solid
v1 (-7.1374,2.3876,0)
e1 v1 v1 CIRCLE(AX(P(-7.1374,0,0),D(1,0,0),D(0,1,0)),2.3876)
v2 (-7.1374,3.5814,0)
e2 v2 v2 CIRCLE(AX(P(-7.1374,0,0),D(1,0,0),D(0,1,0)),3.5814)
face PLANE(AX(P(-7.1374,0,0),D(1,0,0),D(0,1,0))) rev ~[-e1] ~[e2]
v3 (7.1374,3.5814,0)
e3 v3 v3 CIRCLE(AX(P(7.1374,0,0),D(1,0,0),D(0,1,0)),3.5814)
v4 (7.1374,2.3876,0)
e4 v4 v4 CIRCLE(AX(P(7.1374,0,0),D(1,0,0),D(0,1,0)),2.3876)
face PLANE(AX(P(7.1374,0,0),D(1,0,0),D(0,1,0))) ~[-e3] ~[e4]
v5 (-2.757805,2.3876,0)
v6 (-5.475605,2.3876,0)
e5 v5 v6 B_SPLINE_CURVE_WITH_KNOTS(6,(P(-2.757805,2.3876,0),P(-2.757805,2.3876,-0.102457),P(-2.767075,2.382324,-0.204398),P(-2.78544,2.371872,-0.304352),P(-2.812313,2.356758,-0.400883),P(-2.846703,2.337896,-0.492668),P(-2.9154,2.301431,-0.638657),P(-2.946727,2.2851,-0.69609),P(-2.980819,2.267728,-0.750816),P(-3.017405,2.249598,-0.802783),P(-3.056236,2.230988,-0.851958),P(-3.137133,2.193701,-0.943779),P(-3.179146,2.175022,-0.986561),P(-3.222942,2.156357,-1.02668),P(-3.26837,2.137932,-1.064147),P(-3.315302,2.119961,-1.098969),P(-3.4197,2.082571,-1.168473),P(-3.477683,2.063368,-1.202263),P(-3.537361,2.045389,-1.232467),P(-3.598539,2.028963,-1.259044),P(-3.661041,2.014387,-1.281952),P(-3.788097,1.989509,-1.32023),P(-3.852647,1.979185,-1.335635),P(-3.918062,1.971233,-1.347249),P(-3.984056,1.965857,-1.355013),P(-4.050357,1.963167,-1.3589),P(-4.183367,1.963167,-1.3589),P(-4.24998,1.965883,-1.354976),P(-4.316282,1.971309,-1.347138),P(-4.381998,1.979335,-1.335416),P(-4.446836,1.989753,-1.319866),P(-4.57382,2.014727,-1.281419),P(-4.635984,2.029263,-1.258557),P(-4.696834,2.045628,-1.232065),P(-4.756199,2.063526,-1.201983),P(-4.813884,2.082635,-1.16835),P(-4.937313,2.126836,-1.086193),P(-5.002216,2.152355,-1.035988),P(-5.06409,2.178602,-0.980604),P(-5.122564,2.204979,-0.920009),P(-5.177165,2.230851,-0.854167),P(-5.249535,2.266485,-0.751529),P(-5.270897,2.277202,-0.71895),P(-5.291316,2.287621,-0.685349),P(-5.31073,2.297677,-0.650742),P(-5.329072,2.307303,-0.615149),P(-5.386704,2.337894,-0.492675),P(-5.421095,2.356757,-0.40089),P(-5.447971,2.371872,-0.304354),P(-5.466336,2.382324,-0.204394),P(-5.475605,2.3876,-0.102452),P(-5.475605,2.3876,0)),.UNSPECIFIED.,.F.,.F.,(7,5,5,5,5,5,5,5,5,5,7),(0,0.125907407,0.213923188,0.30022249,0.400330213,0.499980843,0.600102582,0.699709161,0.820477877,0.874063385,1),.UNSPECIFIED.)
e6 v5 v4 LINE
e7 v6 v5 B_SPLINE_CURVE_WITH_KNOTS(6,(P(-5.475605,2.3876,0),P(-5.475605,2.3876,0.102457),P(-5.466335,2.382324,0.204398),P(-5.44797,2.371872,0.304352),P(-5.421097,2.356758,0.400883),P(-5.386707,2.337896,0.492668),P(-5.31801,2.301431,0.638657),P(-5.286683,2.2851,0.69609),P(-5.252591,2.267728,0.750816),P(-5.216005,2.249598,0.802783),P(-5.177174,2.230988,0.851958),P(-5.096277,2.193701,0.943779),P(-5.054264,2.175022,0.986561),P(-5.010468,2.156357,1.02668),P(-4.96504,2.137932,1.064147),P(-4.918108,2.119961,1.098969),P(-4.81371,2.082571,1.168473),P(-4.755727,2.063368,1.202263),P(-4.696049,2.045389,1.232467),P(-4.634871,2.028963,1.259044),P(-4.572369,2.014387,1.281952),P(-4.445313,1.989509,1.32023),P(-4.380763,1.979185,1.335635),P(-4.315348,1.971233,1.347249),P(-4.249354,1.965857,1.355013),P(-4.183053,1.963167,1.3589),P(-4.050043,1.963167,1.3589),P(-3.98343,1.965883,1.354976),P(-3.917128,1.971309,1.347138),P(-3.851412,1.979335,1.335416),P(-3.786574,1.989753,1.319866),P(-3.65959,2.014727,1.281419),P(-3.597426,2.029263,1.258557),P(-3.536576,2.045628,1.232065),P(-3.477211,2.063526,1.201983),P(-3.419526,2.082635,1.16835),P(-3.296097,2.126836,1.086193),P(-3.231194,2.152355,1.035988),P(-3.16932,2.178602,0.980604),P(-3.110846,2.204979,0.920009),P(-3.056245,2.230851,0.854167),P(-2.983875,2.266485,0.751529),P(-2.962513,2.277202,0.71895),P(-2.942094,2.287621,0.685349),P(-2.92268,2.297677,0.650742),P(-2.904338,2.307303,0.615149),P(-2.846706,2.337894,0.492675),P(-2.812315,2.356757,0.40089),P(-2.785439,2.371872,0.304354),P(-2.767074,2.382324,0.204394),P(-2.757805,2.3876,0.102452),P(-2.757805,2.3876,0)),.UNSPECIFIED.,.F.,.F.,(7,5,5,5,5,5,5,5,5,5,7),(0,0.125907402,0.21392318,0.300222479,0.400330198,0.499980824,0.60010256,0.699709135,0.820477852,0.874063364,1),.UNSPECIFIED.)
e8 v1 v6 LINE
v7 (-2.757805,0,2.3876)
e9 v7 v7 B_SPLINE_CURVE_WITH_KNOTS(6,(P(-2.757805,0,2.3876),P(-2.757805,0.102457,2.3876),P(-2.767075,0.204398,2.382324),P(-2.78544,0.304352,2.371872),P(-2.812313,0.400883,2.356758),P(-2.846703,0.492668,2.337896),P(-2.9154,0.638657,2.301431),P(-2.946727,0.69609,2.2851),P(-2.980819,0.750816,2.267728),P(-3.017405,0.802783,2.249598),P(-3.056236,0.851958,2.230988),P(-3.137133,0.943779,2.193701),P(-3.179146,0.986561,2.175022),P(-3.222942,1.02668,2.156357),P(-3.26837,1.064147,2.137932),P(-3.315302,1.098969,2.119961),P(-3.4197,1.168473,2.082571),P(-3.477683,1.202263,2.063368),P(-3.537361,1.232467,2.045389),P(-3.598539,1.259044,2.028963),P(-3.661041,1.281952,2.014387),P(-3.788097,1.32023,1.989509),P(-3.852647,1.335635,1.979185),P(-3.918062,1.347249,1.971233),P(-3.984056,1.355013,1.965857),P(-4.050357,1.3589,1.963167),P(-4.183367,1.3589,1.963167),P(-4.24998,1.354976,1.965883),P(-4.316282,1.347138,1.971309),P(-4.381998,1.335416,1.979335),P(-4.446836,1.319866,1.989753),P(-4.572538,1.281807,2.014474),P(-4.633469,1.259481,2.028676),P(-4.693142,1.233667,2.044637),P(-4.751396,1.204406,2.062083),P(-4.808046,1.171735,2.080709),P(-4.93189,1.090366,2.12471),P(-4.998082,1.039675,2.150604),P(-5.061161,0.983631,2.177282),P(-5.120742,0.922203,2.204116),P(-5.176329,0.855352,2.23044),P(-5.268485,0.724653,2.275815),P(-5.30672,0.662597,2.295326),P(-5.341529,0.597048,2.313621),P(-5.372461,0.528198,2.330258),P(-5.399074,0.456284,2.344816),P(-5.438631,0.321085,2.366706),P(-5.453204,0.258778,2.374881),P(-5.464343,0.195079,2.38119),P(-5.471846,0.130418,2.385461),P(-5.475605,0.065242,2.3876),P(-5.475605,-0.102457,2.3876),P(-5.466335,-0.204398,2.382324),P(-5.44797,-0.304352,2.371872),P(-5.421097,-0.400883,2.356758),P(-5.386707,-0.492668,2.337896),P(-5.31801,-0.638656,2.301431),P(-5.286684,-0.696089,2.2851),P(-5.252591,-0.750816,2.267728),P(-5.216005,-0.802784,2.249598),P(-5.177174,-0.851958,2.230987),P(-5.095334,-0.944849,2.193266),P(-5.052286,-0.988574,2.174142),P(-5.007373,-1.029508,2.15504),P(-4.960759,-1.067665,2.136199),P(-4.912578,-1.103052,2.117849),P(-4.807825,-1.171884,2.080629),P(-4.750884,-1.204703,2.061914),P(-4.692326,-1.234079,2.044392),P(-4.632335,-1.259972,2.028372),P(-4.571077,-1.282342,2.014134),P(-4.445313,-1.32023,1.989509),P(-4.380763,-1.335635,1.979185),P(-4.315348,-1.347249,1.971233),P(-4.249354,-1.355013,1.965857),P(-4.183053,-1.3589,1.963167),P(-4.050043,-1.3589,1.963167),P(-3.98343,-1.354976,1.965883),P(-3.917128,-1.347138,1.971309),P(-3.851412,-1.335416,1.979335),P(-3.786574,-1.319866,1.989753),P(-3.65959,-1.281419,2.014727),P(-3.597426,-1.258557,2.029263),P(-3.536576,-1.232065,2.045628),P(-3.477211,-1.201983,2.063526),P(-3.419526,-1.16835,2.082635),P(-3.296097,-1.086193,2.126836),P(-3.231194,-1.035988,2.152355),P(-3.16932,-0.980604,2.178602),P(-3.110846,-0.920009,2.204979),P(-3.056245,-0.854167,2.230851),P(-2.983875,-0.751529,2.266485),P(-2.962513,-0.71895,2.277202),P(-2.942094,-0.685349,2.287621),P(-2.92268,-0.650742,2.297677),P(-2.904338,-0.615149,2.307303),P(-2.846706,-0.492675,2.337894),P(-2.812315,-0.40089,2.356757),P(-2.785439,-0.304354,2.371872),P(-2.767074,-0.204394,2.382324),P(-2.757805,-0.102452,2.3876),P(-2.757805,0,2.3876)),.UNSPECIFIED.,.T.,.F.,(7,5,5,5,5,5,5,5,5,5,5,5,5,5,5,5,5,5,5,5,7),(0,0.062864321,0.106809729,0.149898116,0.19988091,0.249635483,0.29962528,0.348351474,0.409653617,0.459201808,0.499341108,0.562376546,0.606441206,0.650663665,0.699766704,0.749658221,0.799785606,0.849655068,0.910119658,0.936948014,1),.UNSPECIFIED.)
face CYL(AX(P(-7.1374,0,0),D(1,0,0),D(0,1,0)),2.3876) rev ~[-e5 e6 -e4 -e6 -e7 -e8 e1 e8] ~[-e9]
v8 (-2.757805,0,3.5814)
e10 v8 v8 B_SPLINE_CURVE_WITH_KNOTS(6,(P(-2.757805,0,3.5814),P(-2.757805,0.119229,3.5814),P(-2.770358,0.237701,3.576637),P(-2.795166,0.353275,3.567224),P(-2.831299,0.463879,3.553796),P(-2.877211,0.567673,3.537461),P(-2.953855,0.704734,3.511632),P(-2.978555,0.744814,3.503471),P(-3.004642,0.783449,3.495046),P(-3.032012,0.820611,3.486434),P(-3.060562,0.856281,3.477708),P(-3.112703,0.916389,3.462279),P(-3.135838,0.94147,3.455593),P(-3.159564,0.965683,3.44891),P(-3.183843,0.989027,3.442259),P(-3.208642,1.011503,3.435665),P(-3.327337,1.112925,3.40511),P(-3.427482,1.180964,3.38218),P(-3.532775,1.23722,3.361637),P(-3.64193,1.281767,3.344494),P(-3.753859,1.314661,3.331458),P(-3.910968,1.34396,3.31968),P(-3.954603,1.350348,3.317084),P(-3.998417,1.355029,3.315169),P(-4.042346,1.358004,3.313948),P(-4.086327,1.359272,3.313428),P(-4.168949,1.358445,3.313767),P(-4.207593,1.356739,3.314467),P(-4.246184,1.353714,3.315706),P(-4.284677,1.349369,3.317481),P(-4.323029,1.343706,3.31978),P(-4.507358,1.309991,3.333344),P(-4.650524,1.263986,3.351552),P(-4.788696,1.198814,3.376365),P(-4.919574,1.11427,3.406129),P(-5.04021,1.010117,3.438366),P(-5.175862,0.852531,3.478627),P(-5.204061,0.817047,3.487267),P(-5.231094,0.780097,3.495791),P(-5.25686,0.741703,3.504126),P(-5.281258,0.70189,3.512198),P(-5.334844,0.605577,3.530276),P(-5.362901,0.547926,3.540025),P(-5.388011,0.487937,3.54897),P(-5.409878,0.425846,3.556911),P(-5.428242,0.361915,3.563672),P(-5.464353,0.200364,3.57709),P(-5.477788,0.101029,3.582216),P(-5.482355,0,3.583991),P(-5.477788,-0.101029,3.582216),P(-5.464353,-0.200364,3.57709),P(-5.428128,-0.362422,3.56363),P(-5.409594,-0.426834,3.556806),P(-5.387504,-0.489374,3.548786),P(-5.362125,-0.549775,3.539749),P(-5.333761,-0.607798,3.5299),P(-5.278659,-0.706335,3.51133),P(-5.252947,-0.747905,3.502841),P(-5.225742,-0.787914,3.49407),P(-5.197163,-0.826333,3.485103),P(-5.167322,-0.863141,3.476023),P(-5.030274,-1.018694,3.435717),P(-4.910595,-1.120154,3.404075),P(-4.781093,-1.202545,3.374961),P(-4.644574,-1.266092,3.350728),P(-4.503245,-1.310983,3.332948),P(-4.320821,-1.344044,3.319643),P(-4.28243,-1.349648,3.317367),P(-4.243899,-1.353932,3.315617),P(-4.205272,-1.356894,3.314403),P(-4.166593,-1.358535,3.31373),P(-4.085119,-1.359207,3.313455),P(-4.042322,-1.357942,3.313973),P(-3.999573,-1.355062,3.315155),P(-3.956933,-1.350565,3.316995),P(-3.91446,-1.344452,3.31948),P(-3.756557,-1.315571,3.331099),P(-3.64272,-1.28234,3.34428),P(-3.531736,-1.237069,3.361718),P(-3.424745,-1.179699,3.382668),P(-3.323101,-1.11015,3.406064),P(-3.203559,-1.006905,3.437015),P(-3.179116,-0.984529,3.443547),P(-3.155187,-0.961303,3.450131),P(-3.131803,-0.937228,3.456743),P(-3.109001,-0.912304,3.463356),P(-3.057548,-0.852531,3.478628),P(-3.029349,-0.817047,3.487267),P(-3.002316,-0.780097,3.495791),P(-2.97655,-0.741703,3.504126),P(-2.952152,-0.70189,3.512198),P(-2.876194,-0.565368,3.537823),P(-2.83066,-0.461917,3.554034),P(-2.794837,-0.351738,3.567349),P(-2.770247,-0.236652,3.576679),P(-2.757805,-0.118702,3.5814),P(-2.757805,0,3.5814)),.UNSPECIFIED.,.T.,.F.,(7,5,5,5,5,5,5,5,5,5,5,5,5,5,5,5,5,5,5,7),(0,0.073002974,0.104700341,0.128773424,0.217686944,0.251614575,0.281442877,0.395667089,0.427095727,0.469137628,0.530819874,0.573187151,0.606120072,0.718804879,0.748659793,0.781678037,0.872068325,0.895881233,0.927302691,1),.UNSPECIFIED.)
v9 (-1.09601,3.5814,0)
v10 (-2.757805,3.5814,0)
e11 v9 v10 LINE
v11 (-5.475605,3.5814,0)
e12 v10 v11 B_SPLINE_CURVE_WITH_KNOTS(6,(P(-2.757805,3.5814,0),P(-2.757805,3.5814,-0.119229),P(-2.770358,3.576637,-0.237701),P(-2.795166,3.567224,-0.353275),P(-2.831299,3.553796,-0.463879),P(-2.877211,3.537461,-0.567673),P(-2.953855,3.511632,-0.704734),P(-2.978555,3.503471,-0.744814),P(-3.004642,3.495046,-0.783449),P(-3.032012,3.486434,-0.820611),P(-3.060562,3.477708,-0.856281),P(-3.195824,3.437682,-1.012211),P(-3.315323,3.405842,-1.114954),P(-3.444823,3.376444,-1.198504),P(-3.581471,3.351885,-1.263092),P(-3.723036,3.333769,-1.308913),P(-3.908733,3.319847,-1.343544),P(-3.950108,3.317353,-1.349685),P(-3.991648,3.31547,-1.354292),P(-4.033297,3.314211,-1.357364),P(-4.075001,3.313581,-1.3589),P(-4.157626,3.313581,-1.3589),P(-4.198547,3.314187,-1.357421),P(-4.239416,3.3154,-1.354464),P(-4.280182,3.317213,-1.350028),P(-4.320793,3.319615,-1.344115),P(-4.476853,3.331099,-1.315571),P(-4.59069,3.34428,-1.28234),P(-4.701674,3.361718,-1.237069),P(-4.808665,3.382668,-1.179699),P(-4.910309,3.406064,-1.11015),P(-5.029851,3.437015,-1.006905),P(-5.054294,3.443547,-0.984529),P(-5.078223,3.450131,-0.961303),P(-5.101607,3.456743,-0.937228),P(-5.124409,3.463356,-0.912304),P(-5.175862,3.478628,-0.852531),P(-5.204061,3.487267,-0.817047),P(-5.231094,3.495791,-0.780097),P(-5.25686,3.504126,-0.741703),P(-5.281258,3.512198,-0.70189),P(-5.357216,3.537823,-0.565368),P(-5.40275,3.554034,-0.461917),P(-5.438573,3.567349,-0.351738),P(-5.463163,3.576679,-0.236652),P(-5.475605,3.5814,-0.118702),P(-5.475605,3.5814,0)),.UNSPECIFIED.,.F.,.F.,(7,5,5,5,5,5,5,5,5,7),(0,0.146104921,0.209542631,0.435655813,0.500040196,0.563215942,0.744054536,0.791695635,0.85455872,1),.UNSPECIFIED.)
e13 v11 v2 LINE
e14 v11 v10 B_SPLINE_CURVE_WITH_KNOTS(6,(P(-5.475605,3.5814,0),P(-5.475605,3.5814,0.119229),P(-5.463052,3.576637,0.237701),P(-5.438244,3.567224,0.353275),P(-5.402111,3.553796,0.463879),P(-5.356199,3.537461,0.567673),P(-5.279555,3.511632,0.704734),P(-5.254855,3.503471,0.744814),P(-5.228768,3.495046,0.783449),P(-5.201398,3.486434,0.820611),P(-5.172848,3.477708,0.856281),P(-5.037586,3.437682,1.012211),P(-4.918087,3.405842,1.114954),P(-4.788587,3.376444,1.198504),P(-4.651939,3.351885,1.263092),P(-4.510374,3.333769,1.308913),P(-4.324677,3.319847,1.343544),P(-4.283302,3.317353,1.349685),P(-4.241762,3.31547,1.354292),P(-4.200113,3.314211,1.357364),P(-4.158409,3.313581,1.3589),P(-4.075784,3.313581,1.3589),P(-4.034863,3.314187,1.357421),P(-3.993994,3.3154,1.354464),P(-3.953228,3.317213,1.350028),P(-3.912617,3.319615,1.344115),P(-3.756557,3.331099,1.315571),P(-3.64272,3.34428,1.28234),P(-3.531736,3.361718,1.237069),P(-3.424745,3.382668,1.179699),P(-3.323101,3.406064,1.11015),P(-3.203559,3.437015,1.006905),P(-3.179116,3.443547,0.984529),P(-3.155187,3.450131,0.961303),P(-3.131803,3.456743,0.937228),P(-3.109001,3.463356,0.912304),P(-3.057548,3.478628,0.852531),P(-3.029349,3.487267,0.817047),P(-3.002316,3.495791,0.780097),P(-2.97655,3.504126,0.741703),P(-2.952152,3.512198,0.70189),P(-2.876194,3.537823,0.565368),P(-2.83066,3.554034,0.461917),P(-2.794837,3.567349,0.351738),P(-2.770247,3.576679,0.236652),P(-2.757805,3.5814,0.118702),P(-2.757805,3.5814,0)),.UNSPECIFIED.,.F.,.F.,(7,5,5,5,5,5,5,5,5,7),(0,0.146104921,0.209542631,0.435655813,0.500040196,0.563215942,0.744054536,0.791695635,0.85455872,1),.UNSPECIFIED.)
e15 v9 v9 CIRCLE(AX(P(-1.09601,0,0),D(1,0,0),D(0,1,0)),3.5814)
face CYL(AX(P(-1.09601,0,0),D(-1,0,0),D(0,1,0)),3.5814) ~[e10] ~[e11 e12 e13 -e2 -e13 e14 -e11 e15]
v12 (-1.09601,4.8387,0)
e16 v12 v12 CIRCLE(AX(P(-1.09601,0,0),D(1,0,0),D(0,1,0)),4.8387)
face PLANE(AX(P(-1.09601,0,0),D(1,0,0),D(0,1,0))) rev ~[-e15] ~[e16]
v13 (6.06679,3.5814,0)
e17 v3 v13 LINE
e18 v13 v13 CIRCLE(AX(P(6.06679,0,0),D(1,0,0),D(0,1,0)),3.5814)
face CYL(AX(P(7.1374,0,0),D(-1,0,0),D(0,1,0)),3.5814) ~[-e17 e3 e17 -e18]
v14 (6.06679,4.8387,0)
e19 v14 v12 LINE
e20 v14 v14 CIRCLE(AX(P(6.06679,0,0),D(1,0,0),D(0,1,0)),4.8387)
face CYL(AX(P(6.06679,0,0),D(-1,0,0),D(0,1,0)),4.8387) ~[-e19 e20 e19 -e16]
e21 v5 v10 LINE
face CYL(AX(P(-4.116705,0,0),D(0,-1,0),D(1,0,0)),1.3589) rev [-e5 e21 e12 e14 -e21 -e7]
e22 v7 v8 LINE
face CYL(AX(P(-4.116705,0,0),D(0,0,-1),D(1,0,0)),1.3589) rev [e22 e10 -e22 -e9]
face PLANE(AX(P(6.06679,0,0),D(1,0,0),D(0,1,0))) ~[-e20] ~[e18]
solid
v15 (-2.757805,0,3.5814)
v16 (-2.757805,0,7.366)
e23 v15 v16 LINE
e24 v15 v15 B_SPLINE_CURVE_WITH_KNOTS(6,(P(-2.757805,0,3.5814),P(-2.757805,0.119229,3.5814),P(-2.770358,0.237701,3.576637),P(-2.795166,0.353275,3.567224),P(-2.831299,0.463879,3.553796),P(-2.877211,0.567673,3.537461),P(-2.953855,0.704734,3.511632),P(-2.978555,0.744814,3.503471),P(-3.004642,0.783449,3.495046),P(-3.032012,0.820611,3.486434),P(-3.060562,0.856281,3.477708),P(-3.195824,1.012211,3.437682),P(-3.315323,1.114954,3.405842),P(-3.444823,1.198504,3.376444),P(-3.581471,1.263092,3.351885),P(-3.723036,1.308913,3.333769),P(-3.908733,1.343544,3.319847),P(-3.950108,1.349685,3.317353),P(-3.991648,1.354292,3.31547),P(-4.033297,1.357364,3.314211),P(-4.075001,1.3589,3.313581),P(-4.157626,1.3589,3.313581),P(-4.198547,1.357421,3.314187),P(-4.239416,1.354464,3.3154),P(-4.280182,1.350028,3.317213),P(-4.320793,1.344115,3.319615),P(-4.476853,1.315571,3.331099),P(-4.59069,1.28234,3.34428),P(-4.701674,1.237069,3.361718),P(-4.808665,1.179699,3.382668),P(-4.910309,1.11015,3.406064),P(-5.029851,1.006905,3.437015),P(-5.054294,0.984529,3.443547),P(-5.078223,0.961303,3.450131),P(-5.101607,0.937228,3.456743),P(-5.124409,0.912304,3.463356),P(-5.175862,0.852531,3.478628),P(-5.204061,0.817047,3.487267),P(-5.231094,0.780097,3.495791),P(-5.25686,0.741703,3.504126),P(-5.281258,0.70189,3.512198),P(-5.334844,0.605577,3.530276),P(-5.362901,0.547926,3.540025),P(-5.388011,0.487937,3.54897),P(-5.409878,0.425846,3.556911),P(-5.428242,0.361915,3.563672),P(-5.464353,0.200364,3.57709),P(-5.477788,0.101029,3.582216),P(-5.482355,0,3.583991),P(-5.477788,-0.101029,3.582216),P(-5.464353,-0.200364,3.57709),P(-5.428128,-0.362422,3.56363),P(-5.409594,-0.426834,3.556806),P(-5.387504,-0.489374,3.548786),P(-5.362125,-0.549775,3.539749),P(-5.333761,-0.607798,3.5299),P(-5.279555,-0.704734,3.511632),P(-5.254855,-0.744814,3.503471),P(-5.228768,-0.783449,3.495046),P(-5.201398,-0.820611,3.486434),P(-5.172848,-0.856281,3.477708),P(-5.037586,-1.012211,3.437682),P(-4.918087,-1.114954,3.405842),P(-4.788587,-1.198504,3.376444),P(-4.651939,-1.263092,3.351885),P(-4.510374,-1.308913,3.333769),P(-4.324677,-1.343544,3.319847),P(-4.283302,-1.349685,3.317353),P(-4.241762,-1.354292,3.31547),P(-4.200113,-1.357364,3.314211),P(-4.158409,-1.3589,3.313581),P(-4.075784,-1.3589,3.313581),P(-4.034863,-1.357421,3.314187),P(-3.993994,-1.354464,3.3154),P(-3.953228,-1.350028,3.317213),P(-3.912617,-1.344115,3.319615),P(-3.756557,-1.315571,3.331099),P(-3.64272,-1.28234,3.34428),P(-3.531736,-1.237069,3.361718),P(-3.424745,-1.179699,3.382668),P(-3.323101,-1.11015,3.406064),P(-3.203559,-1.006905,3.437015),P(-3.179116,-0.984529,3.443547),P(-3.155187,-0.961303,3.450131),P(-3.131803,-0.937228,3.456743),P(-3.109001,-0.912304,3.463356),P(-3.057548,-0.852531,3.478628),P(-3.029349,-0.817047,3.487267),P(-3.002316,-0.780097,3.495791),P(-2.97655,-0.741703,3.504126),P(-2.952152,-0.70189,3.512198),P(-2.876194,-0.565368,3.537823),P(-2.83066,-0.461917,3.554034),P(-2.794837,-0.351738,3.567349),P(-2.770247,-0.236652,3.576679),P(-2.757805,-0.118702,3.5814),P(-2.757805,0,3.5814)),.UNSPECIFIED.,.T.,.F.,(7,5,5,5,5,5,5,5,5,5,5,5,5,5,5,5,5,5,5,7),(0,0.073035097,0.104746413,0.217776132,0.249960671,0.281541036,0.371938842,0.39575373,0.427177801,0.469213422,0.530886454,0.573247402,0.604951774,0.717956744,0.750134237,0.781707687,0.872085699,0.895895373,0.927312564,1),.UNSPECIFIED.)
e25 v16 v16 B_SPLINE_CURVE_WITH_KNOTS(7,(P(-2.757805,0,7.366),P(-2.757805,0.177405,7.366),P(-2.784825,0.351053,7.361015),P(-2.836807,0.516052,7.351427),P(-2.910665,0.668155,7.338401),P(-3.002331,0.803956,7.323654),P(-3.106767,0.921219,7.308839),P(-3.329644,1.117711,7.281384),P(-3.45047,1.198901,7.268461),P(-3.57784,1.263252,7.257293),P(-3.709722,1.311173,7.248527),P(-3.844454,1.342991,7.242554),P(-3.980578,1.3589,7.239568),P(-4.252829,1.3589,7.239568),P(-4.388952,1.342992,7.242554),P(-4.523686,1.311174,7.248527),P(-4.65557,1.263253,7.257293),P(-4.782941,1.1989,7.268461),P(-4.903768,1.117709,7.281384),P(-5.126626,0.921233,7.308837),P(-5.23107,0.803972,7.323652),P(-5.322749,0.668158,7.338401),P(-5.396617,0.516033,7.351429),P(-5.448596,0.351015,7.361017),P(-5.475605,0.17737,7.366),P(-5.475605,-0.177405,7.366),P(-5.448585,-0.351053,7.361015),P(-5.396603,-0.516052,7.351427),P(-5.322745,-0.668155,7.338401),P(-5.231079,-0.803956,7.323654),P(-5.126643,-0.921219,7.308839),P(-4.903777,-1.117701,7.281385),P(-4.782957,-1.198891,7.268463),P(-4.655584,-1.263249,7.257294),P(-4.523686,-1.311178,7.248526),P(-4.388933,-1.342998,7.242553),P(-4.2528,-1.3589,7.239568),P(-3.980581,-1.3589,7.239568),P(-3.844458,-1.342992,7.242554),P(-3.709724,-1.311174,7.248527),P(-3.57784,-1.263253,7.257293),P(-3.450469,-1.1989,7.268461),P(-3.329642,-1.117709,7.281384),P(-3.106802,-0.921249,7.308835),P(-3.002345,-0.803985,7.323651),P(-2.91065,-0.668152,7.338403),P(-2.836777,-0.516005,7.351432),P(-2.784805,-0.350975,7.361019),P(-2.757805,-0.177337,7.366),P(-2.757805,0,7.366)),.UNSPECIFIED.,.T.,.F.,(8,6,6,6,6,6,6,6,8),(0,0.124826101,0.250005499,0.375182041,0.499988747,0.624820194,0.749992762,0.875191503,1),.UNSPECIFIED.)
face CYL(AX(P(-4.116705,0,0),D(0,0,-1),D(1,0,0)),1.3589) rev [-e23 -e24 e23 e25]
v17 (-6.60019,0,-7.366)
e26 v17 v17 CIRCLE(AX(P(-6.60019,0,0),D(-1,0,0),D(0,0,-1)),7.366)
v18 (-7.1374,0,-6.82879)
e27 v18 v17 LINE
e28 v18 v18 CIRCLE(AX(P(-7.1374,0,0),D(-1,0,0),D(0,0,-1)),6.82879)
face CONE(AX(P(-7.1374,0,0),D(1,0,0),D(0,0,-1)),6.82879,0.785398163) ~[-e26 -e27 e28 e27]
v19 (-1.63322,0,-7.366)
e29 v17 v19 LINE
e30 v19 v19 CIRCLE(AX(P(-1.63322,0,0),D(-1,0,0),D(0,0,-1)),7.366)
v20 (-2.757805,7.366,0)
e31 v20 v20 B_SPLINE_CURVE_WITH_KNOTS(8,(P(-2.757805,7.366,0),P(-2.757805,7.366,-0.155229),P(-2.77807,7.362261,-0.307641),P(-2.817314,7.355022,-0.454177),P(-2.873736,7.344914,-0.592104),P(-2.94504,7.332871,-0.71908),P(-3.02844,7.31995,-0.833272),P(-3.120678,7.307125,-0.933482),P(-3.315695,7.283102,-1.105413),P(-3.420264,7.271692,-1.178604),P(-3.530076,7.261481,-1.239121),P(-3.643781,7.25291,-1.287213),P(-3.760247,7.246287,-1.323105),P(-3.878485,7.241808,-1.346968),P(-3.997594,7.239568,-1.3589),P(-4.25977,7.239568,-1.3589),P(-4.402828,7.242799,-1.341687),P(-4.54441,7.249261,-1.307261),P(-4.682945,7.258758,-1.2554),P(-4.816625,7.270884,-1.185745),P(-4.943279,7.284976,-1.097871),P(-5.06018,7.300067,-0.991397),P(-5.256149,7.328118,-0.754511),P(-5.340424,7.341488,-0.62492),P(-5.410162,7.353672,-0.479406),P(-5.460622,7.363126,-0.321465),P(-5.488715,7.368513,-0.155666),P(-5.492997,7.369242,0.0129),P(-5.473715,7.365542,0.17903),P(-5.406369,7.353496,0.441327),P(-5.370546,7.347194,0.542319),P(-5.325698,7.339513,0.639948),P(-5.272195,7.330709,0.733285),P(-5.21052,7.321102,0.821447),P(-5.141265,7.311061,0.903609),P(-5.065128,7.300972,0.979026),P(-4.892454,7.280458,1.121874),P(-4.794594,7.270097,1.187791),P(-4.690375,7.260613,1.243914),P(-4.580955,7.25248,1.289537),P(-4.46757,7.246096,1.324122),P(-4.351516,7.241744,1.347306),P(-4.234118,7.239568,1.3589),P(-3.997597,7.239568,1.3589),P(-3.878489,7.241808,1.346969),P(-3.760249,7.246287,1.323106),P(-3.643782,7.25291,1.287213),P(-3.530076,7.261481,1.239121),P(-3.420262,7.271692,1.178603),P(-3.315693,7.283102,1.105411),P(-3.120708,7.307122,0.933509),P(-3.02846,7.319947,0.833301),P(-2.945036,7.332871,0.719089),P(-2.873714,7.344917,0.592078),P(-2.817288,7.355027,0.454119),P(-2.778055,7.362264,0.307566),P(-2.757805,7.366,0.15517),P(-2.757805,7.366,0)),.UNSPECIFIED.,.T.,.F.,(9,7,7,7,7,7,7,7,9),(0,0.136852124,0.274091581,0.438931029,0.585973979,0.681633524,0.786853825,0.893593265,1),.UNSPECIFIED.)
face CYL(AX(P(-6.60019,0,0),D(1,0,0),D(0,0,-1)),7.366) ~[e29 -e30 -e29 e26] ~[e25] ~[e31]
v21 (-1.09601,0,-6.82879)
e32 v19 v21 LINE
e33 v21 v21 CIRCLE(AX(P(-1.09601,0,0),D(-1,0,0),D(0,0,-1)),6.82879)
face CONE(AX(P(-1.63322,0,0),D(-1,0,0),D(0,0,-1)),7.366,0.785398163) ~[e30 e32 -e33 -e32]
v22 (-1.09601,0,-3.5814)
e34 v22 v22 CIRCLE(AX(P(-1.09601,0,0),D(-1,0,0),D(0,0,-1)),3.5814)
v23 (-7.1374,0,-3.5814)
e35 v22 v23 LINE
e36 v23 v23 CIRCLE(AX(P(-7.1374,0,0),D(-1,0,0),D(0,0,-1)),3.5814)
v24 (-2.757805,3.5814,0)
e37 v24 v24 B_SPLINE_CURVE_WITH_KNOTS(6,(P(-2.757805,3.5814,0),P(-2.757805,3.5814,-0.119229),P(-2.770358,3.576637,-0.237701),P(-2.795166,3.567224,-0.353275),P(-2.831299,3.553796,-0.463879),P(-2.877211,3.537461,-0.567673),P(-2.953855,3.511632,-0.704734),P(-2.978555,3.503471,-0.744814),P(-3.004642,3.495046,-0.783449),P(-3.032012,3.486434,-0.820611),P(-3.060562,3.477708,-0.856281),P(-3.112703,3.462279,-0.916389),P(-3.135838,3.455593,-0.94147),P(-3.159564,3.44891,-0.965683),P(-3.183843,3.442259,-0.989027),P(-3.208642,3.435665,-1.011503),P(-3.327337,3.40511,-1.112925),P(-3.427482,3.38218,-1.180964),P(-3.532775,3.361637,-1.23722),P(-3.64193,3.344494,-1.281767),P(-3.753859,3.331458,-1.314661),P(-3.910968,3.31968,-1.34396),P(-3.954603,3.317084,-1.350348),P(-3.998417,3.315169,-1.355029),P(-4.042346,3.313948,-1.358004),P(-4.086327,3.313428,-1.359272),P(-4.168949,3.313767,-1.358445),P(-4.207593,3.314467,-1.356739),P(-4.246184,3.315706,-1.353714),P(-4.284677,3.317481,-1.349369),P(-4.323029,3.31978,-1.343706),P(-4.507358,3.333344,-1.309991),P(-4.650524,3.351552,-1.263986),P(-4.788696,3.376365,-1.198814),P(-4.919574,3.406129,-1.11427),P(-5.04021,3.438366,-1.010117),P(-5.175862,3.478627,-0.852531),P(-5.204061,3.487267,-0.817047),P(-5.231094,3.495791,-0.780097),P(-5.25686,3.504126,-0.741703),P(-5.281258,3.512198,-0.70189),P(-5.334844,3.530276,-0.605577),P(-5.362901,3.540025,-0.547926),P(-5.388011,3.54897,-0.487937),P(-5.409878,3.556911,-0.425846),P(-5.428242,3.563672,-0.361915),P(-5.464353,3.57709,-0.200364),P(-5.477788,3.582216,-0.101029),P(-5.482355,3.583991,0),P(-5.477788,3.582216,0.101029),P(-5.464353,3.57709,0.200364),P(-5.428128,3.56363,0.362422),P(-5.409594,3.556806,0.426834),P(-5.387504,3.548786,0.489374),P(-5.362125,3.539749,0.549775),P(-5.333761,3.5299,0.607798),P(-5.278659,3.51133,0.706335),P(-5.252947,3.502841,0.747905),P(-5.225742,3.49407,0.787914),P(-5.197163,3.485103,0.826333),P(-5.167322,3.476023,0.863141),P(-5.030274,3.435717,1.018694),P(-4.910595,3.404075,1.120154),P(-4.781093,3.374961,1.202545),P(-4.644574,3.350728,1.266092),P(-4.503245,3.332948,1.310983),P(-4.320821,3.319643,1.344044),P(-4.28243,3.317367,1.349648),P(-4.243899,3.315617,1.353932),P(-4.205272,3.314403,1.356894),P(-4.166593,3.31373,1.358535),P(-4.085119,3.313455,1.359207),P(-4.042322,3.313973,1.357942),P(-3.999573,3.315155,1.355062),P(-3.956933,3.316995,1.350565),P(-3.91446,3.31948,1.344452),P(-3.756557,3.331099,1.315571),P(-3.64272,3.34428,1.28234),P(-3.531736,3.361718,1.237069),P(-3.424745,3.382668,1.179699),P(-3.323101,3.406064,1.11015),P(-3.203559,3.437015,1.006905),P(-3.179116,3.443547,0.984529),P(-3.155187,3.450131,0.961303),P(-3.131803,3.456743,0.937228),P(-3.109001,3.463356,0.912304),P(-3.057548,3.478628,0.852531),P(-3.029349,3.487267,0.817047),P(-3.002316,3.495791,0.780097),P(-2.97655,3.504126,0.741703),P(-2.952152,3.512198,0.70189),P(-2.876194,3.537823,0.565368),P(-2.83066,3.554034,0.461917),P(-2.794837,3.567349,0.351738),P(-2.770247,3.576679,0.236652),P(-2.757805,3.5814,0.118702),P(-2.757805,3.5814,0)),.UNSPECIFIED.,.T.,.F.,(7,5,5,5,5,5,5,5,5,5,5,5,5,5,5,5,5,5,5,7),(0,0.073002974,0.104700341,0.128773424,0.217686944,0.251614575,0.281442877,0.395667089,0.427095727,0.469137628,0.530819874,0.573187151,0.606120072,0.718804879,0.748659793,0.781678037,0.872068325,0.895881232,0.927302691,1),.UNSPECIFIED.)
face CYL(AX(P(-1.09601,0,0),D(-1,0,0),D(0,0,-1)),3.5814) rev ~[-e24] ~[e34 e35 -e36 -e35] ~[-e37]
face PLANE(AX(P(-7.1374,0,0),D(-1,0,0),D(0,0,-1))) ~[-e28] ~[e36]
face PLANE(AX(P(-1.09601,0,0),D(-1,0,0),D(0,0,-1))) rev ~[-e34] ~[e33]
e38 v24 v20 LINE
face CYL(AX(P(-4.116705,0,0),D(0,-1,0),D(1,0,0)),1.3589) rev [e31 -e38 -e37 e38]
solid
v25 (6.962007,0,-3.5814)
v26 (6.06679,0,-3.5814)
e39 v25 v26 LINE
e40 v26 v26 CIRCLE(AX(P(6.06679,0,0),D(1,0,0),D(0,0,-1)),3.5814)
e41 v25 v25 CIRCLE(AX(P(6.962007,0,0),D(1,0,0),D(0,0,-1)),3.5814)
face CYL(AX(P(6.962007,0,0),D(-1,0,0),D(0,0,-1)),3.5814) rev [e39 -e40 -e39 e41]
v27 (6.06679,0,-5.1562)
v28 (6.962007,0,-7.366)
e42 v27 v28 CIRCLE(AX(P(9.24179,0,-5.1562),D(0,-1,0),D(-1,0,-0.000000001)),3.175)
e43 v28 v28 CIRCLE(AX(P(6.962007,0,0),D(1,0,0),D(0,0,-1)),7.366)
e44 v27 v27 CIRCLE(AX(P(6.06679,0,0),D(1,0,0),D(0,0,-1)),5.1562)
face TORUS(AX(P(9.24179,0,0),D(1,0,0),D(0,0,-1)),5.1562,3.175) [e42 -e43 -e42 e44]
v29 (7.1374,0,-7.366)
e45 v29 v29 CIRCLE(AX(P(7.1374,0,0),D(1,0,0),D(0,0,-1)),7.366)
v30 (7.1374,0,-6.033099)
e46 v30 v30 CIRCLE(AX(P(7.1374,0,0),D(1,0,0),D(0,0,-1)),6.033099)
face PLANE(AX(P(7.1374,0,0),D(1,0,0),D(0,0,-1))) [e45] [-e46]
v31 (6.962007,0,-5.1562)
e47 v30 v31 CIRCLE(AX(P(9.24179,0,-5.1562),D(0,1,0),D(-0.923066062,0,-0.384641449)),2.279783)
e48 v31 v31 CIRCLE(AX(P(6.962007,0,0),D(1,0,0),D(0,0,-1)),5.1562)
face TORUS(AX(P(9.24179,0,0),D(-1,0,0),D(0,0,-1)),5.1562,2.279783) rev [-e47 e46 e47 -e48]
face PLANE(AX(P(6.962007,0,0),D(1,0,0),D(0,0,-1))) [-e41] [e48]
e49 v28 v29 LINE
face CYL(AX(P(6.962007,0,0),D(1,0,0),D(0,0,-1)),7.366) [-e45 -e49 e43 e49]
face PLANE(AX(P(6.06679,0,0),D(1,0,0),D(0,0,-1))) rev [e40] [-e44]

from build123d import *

# Parameters (mm, degrees)
SKETCH5_R         = 1.3589
SET_SCREWS_DEPTH  = 10
CIRPATTERN1_COUNT = 2
CIRPATTERN1_ANGLE = 90


with BuildPart() as part:
    # Sketch2 → Base Body (revolve)
    with BuildSketch(Plane.XY):
        Polygon((-7.1374, 2.3876), (7.1374, 2.3876), (7.1374, 3.5814), (6.06679, 3.5814), (6.06679, 4.8387), (-1.09601, 4.8387), (-1.09601, 3.5814), (-7.1374, 3.5814), align=None)
    revolve(axis=Axis((-7.1374, 0, 0), (1, 0, 0)))


with BuildPart() as body_2:
    # Sketch3 → Hub (revolve)
    with BuildSketch(Plane(origin=(0, 0, 0), x_dir=(1, 0, 0), z_dir=(0, 1, 0))):
        Polygon((-1.09601, 3.5814), (-7.1374, 3.5814), (-7.1374, 6.82879), (-6.60019, 7.366), (-1.63322, 7.366), (-1.09601, 6.82879), align=None)
    revolve(axis=Axis((0, 0, 0), (-1, 0, 0)))


with BuildPart() as body_3:
    # Sketch4 → Flange (revolve)
    with BuildSketch(Plane(origin=(0, 0, 0), x_dir=(1, 0, 0), z_dir=(0, 1, 0))):
        with BuildLine():
            Line((6.06679, 3.5814), (6.06679, 5.1562))
            ThreePointArc((6.06679, 5.1562), (6.299092689, 6.34832312), (6.962007344, 7.366))
            Line((6.962007344, 7.366), (7.1374, 7.366))
            Line((7.1374, 7.366), (7.1374, 6.033098904))
            ThreePointArc((7.1374, 6.033098904), (7.006285495, 5.603333725), (6.962007344, 5.1562))
            Line((6.962007344, 5.1562), (6.962007344, 3.5814))
            Line((6.962007344, 3.5814), (6.06679, 3.5814))
        make_face()
    revolve(axis=Axis((0, 0, 0), (1, 0, 0)))


with BuildPart() as set_screws_tool:
    # Sketch5 → Set Screws (new body)
    with BuildSketch(Plane(origin=(0, 0, 0), x_dir=(1, 0, 0), z_dir=(0, 1, 0))):
        with Locations((-4.116705, 0)):
            Circle(SKETCH5_R)
    set_screws = extrude(amount=SET_SCREWS_DEPTH)


with BuildPart() as part_1:
    add(part.part)

    # Set Screws: cut by set_screws_tool
    add(set_screws_tool.part, mode=Mode.SUBTRACT)


with BuildPart() as body_2_1:
    add(body_2.part)

    # Set Screws: cut by set_screws_tool
    add(set_screws_tool.part, mode=Mode.SUBTRACT)


with BuildPart() as cirpattern1_tool:
    # CirPattern1: Set Screws ×2 about axis
    cirpattern1_axis = Axis((-7.1374, 0, 0), (1, 0, 0))
    for i in range(1, CIRPATTERN1_COUNT):
        add(set_screws.rotate(cirpattern1_axis, i * CIRPATTERN1_ANGLE / (CIRPATTERN1_COUNT - 1)))


with BuildPart() as part_2:
    add(part_1.part)

    # CirPattern1: cut by cirpattern1_tool
    add(cirpattern1_tool.part, mode=Mode.SUBTRACT)


with BuildPart() as body_2_2:
    add(body_2_1.part)

    # CirPattern1: cut by cirpattern1_tool
    add(cirpattern1_tool.part, mode=Mode.SUBTRACT)


solid = Compound([body_3.part, part_2.part, body_2_2.part])
